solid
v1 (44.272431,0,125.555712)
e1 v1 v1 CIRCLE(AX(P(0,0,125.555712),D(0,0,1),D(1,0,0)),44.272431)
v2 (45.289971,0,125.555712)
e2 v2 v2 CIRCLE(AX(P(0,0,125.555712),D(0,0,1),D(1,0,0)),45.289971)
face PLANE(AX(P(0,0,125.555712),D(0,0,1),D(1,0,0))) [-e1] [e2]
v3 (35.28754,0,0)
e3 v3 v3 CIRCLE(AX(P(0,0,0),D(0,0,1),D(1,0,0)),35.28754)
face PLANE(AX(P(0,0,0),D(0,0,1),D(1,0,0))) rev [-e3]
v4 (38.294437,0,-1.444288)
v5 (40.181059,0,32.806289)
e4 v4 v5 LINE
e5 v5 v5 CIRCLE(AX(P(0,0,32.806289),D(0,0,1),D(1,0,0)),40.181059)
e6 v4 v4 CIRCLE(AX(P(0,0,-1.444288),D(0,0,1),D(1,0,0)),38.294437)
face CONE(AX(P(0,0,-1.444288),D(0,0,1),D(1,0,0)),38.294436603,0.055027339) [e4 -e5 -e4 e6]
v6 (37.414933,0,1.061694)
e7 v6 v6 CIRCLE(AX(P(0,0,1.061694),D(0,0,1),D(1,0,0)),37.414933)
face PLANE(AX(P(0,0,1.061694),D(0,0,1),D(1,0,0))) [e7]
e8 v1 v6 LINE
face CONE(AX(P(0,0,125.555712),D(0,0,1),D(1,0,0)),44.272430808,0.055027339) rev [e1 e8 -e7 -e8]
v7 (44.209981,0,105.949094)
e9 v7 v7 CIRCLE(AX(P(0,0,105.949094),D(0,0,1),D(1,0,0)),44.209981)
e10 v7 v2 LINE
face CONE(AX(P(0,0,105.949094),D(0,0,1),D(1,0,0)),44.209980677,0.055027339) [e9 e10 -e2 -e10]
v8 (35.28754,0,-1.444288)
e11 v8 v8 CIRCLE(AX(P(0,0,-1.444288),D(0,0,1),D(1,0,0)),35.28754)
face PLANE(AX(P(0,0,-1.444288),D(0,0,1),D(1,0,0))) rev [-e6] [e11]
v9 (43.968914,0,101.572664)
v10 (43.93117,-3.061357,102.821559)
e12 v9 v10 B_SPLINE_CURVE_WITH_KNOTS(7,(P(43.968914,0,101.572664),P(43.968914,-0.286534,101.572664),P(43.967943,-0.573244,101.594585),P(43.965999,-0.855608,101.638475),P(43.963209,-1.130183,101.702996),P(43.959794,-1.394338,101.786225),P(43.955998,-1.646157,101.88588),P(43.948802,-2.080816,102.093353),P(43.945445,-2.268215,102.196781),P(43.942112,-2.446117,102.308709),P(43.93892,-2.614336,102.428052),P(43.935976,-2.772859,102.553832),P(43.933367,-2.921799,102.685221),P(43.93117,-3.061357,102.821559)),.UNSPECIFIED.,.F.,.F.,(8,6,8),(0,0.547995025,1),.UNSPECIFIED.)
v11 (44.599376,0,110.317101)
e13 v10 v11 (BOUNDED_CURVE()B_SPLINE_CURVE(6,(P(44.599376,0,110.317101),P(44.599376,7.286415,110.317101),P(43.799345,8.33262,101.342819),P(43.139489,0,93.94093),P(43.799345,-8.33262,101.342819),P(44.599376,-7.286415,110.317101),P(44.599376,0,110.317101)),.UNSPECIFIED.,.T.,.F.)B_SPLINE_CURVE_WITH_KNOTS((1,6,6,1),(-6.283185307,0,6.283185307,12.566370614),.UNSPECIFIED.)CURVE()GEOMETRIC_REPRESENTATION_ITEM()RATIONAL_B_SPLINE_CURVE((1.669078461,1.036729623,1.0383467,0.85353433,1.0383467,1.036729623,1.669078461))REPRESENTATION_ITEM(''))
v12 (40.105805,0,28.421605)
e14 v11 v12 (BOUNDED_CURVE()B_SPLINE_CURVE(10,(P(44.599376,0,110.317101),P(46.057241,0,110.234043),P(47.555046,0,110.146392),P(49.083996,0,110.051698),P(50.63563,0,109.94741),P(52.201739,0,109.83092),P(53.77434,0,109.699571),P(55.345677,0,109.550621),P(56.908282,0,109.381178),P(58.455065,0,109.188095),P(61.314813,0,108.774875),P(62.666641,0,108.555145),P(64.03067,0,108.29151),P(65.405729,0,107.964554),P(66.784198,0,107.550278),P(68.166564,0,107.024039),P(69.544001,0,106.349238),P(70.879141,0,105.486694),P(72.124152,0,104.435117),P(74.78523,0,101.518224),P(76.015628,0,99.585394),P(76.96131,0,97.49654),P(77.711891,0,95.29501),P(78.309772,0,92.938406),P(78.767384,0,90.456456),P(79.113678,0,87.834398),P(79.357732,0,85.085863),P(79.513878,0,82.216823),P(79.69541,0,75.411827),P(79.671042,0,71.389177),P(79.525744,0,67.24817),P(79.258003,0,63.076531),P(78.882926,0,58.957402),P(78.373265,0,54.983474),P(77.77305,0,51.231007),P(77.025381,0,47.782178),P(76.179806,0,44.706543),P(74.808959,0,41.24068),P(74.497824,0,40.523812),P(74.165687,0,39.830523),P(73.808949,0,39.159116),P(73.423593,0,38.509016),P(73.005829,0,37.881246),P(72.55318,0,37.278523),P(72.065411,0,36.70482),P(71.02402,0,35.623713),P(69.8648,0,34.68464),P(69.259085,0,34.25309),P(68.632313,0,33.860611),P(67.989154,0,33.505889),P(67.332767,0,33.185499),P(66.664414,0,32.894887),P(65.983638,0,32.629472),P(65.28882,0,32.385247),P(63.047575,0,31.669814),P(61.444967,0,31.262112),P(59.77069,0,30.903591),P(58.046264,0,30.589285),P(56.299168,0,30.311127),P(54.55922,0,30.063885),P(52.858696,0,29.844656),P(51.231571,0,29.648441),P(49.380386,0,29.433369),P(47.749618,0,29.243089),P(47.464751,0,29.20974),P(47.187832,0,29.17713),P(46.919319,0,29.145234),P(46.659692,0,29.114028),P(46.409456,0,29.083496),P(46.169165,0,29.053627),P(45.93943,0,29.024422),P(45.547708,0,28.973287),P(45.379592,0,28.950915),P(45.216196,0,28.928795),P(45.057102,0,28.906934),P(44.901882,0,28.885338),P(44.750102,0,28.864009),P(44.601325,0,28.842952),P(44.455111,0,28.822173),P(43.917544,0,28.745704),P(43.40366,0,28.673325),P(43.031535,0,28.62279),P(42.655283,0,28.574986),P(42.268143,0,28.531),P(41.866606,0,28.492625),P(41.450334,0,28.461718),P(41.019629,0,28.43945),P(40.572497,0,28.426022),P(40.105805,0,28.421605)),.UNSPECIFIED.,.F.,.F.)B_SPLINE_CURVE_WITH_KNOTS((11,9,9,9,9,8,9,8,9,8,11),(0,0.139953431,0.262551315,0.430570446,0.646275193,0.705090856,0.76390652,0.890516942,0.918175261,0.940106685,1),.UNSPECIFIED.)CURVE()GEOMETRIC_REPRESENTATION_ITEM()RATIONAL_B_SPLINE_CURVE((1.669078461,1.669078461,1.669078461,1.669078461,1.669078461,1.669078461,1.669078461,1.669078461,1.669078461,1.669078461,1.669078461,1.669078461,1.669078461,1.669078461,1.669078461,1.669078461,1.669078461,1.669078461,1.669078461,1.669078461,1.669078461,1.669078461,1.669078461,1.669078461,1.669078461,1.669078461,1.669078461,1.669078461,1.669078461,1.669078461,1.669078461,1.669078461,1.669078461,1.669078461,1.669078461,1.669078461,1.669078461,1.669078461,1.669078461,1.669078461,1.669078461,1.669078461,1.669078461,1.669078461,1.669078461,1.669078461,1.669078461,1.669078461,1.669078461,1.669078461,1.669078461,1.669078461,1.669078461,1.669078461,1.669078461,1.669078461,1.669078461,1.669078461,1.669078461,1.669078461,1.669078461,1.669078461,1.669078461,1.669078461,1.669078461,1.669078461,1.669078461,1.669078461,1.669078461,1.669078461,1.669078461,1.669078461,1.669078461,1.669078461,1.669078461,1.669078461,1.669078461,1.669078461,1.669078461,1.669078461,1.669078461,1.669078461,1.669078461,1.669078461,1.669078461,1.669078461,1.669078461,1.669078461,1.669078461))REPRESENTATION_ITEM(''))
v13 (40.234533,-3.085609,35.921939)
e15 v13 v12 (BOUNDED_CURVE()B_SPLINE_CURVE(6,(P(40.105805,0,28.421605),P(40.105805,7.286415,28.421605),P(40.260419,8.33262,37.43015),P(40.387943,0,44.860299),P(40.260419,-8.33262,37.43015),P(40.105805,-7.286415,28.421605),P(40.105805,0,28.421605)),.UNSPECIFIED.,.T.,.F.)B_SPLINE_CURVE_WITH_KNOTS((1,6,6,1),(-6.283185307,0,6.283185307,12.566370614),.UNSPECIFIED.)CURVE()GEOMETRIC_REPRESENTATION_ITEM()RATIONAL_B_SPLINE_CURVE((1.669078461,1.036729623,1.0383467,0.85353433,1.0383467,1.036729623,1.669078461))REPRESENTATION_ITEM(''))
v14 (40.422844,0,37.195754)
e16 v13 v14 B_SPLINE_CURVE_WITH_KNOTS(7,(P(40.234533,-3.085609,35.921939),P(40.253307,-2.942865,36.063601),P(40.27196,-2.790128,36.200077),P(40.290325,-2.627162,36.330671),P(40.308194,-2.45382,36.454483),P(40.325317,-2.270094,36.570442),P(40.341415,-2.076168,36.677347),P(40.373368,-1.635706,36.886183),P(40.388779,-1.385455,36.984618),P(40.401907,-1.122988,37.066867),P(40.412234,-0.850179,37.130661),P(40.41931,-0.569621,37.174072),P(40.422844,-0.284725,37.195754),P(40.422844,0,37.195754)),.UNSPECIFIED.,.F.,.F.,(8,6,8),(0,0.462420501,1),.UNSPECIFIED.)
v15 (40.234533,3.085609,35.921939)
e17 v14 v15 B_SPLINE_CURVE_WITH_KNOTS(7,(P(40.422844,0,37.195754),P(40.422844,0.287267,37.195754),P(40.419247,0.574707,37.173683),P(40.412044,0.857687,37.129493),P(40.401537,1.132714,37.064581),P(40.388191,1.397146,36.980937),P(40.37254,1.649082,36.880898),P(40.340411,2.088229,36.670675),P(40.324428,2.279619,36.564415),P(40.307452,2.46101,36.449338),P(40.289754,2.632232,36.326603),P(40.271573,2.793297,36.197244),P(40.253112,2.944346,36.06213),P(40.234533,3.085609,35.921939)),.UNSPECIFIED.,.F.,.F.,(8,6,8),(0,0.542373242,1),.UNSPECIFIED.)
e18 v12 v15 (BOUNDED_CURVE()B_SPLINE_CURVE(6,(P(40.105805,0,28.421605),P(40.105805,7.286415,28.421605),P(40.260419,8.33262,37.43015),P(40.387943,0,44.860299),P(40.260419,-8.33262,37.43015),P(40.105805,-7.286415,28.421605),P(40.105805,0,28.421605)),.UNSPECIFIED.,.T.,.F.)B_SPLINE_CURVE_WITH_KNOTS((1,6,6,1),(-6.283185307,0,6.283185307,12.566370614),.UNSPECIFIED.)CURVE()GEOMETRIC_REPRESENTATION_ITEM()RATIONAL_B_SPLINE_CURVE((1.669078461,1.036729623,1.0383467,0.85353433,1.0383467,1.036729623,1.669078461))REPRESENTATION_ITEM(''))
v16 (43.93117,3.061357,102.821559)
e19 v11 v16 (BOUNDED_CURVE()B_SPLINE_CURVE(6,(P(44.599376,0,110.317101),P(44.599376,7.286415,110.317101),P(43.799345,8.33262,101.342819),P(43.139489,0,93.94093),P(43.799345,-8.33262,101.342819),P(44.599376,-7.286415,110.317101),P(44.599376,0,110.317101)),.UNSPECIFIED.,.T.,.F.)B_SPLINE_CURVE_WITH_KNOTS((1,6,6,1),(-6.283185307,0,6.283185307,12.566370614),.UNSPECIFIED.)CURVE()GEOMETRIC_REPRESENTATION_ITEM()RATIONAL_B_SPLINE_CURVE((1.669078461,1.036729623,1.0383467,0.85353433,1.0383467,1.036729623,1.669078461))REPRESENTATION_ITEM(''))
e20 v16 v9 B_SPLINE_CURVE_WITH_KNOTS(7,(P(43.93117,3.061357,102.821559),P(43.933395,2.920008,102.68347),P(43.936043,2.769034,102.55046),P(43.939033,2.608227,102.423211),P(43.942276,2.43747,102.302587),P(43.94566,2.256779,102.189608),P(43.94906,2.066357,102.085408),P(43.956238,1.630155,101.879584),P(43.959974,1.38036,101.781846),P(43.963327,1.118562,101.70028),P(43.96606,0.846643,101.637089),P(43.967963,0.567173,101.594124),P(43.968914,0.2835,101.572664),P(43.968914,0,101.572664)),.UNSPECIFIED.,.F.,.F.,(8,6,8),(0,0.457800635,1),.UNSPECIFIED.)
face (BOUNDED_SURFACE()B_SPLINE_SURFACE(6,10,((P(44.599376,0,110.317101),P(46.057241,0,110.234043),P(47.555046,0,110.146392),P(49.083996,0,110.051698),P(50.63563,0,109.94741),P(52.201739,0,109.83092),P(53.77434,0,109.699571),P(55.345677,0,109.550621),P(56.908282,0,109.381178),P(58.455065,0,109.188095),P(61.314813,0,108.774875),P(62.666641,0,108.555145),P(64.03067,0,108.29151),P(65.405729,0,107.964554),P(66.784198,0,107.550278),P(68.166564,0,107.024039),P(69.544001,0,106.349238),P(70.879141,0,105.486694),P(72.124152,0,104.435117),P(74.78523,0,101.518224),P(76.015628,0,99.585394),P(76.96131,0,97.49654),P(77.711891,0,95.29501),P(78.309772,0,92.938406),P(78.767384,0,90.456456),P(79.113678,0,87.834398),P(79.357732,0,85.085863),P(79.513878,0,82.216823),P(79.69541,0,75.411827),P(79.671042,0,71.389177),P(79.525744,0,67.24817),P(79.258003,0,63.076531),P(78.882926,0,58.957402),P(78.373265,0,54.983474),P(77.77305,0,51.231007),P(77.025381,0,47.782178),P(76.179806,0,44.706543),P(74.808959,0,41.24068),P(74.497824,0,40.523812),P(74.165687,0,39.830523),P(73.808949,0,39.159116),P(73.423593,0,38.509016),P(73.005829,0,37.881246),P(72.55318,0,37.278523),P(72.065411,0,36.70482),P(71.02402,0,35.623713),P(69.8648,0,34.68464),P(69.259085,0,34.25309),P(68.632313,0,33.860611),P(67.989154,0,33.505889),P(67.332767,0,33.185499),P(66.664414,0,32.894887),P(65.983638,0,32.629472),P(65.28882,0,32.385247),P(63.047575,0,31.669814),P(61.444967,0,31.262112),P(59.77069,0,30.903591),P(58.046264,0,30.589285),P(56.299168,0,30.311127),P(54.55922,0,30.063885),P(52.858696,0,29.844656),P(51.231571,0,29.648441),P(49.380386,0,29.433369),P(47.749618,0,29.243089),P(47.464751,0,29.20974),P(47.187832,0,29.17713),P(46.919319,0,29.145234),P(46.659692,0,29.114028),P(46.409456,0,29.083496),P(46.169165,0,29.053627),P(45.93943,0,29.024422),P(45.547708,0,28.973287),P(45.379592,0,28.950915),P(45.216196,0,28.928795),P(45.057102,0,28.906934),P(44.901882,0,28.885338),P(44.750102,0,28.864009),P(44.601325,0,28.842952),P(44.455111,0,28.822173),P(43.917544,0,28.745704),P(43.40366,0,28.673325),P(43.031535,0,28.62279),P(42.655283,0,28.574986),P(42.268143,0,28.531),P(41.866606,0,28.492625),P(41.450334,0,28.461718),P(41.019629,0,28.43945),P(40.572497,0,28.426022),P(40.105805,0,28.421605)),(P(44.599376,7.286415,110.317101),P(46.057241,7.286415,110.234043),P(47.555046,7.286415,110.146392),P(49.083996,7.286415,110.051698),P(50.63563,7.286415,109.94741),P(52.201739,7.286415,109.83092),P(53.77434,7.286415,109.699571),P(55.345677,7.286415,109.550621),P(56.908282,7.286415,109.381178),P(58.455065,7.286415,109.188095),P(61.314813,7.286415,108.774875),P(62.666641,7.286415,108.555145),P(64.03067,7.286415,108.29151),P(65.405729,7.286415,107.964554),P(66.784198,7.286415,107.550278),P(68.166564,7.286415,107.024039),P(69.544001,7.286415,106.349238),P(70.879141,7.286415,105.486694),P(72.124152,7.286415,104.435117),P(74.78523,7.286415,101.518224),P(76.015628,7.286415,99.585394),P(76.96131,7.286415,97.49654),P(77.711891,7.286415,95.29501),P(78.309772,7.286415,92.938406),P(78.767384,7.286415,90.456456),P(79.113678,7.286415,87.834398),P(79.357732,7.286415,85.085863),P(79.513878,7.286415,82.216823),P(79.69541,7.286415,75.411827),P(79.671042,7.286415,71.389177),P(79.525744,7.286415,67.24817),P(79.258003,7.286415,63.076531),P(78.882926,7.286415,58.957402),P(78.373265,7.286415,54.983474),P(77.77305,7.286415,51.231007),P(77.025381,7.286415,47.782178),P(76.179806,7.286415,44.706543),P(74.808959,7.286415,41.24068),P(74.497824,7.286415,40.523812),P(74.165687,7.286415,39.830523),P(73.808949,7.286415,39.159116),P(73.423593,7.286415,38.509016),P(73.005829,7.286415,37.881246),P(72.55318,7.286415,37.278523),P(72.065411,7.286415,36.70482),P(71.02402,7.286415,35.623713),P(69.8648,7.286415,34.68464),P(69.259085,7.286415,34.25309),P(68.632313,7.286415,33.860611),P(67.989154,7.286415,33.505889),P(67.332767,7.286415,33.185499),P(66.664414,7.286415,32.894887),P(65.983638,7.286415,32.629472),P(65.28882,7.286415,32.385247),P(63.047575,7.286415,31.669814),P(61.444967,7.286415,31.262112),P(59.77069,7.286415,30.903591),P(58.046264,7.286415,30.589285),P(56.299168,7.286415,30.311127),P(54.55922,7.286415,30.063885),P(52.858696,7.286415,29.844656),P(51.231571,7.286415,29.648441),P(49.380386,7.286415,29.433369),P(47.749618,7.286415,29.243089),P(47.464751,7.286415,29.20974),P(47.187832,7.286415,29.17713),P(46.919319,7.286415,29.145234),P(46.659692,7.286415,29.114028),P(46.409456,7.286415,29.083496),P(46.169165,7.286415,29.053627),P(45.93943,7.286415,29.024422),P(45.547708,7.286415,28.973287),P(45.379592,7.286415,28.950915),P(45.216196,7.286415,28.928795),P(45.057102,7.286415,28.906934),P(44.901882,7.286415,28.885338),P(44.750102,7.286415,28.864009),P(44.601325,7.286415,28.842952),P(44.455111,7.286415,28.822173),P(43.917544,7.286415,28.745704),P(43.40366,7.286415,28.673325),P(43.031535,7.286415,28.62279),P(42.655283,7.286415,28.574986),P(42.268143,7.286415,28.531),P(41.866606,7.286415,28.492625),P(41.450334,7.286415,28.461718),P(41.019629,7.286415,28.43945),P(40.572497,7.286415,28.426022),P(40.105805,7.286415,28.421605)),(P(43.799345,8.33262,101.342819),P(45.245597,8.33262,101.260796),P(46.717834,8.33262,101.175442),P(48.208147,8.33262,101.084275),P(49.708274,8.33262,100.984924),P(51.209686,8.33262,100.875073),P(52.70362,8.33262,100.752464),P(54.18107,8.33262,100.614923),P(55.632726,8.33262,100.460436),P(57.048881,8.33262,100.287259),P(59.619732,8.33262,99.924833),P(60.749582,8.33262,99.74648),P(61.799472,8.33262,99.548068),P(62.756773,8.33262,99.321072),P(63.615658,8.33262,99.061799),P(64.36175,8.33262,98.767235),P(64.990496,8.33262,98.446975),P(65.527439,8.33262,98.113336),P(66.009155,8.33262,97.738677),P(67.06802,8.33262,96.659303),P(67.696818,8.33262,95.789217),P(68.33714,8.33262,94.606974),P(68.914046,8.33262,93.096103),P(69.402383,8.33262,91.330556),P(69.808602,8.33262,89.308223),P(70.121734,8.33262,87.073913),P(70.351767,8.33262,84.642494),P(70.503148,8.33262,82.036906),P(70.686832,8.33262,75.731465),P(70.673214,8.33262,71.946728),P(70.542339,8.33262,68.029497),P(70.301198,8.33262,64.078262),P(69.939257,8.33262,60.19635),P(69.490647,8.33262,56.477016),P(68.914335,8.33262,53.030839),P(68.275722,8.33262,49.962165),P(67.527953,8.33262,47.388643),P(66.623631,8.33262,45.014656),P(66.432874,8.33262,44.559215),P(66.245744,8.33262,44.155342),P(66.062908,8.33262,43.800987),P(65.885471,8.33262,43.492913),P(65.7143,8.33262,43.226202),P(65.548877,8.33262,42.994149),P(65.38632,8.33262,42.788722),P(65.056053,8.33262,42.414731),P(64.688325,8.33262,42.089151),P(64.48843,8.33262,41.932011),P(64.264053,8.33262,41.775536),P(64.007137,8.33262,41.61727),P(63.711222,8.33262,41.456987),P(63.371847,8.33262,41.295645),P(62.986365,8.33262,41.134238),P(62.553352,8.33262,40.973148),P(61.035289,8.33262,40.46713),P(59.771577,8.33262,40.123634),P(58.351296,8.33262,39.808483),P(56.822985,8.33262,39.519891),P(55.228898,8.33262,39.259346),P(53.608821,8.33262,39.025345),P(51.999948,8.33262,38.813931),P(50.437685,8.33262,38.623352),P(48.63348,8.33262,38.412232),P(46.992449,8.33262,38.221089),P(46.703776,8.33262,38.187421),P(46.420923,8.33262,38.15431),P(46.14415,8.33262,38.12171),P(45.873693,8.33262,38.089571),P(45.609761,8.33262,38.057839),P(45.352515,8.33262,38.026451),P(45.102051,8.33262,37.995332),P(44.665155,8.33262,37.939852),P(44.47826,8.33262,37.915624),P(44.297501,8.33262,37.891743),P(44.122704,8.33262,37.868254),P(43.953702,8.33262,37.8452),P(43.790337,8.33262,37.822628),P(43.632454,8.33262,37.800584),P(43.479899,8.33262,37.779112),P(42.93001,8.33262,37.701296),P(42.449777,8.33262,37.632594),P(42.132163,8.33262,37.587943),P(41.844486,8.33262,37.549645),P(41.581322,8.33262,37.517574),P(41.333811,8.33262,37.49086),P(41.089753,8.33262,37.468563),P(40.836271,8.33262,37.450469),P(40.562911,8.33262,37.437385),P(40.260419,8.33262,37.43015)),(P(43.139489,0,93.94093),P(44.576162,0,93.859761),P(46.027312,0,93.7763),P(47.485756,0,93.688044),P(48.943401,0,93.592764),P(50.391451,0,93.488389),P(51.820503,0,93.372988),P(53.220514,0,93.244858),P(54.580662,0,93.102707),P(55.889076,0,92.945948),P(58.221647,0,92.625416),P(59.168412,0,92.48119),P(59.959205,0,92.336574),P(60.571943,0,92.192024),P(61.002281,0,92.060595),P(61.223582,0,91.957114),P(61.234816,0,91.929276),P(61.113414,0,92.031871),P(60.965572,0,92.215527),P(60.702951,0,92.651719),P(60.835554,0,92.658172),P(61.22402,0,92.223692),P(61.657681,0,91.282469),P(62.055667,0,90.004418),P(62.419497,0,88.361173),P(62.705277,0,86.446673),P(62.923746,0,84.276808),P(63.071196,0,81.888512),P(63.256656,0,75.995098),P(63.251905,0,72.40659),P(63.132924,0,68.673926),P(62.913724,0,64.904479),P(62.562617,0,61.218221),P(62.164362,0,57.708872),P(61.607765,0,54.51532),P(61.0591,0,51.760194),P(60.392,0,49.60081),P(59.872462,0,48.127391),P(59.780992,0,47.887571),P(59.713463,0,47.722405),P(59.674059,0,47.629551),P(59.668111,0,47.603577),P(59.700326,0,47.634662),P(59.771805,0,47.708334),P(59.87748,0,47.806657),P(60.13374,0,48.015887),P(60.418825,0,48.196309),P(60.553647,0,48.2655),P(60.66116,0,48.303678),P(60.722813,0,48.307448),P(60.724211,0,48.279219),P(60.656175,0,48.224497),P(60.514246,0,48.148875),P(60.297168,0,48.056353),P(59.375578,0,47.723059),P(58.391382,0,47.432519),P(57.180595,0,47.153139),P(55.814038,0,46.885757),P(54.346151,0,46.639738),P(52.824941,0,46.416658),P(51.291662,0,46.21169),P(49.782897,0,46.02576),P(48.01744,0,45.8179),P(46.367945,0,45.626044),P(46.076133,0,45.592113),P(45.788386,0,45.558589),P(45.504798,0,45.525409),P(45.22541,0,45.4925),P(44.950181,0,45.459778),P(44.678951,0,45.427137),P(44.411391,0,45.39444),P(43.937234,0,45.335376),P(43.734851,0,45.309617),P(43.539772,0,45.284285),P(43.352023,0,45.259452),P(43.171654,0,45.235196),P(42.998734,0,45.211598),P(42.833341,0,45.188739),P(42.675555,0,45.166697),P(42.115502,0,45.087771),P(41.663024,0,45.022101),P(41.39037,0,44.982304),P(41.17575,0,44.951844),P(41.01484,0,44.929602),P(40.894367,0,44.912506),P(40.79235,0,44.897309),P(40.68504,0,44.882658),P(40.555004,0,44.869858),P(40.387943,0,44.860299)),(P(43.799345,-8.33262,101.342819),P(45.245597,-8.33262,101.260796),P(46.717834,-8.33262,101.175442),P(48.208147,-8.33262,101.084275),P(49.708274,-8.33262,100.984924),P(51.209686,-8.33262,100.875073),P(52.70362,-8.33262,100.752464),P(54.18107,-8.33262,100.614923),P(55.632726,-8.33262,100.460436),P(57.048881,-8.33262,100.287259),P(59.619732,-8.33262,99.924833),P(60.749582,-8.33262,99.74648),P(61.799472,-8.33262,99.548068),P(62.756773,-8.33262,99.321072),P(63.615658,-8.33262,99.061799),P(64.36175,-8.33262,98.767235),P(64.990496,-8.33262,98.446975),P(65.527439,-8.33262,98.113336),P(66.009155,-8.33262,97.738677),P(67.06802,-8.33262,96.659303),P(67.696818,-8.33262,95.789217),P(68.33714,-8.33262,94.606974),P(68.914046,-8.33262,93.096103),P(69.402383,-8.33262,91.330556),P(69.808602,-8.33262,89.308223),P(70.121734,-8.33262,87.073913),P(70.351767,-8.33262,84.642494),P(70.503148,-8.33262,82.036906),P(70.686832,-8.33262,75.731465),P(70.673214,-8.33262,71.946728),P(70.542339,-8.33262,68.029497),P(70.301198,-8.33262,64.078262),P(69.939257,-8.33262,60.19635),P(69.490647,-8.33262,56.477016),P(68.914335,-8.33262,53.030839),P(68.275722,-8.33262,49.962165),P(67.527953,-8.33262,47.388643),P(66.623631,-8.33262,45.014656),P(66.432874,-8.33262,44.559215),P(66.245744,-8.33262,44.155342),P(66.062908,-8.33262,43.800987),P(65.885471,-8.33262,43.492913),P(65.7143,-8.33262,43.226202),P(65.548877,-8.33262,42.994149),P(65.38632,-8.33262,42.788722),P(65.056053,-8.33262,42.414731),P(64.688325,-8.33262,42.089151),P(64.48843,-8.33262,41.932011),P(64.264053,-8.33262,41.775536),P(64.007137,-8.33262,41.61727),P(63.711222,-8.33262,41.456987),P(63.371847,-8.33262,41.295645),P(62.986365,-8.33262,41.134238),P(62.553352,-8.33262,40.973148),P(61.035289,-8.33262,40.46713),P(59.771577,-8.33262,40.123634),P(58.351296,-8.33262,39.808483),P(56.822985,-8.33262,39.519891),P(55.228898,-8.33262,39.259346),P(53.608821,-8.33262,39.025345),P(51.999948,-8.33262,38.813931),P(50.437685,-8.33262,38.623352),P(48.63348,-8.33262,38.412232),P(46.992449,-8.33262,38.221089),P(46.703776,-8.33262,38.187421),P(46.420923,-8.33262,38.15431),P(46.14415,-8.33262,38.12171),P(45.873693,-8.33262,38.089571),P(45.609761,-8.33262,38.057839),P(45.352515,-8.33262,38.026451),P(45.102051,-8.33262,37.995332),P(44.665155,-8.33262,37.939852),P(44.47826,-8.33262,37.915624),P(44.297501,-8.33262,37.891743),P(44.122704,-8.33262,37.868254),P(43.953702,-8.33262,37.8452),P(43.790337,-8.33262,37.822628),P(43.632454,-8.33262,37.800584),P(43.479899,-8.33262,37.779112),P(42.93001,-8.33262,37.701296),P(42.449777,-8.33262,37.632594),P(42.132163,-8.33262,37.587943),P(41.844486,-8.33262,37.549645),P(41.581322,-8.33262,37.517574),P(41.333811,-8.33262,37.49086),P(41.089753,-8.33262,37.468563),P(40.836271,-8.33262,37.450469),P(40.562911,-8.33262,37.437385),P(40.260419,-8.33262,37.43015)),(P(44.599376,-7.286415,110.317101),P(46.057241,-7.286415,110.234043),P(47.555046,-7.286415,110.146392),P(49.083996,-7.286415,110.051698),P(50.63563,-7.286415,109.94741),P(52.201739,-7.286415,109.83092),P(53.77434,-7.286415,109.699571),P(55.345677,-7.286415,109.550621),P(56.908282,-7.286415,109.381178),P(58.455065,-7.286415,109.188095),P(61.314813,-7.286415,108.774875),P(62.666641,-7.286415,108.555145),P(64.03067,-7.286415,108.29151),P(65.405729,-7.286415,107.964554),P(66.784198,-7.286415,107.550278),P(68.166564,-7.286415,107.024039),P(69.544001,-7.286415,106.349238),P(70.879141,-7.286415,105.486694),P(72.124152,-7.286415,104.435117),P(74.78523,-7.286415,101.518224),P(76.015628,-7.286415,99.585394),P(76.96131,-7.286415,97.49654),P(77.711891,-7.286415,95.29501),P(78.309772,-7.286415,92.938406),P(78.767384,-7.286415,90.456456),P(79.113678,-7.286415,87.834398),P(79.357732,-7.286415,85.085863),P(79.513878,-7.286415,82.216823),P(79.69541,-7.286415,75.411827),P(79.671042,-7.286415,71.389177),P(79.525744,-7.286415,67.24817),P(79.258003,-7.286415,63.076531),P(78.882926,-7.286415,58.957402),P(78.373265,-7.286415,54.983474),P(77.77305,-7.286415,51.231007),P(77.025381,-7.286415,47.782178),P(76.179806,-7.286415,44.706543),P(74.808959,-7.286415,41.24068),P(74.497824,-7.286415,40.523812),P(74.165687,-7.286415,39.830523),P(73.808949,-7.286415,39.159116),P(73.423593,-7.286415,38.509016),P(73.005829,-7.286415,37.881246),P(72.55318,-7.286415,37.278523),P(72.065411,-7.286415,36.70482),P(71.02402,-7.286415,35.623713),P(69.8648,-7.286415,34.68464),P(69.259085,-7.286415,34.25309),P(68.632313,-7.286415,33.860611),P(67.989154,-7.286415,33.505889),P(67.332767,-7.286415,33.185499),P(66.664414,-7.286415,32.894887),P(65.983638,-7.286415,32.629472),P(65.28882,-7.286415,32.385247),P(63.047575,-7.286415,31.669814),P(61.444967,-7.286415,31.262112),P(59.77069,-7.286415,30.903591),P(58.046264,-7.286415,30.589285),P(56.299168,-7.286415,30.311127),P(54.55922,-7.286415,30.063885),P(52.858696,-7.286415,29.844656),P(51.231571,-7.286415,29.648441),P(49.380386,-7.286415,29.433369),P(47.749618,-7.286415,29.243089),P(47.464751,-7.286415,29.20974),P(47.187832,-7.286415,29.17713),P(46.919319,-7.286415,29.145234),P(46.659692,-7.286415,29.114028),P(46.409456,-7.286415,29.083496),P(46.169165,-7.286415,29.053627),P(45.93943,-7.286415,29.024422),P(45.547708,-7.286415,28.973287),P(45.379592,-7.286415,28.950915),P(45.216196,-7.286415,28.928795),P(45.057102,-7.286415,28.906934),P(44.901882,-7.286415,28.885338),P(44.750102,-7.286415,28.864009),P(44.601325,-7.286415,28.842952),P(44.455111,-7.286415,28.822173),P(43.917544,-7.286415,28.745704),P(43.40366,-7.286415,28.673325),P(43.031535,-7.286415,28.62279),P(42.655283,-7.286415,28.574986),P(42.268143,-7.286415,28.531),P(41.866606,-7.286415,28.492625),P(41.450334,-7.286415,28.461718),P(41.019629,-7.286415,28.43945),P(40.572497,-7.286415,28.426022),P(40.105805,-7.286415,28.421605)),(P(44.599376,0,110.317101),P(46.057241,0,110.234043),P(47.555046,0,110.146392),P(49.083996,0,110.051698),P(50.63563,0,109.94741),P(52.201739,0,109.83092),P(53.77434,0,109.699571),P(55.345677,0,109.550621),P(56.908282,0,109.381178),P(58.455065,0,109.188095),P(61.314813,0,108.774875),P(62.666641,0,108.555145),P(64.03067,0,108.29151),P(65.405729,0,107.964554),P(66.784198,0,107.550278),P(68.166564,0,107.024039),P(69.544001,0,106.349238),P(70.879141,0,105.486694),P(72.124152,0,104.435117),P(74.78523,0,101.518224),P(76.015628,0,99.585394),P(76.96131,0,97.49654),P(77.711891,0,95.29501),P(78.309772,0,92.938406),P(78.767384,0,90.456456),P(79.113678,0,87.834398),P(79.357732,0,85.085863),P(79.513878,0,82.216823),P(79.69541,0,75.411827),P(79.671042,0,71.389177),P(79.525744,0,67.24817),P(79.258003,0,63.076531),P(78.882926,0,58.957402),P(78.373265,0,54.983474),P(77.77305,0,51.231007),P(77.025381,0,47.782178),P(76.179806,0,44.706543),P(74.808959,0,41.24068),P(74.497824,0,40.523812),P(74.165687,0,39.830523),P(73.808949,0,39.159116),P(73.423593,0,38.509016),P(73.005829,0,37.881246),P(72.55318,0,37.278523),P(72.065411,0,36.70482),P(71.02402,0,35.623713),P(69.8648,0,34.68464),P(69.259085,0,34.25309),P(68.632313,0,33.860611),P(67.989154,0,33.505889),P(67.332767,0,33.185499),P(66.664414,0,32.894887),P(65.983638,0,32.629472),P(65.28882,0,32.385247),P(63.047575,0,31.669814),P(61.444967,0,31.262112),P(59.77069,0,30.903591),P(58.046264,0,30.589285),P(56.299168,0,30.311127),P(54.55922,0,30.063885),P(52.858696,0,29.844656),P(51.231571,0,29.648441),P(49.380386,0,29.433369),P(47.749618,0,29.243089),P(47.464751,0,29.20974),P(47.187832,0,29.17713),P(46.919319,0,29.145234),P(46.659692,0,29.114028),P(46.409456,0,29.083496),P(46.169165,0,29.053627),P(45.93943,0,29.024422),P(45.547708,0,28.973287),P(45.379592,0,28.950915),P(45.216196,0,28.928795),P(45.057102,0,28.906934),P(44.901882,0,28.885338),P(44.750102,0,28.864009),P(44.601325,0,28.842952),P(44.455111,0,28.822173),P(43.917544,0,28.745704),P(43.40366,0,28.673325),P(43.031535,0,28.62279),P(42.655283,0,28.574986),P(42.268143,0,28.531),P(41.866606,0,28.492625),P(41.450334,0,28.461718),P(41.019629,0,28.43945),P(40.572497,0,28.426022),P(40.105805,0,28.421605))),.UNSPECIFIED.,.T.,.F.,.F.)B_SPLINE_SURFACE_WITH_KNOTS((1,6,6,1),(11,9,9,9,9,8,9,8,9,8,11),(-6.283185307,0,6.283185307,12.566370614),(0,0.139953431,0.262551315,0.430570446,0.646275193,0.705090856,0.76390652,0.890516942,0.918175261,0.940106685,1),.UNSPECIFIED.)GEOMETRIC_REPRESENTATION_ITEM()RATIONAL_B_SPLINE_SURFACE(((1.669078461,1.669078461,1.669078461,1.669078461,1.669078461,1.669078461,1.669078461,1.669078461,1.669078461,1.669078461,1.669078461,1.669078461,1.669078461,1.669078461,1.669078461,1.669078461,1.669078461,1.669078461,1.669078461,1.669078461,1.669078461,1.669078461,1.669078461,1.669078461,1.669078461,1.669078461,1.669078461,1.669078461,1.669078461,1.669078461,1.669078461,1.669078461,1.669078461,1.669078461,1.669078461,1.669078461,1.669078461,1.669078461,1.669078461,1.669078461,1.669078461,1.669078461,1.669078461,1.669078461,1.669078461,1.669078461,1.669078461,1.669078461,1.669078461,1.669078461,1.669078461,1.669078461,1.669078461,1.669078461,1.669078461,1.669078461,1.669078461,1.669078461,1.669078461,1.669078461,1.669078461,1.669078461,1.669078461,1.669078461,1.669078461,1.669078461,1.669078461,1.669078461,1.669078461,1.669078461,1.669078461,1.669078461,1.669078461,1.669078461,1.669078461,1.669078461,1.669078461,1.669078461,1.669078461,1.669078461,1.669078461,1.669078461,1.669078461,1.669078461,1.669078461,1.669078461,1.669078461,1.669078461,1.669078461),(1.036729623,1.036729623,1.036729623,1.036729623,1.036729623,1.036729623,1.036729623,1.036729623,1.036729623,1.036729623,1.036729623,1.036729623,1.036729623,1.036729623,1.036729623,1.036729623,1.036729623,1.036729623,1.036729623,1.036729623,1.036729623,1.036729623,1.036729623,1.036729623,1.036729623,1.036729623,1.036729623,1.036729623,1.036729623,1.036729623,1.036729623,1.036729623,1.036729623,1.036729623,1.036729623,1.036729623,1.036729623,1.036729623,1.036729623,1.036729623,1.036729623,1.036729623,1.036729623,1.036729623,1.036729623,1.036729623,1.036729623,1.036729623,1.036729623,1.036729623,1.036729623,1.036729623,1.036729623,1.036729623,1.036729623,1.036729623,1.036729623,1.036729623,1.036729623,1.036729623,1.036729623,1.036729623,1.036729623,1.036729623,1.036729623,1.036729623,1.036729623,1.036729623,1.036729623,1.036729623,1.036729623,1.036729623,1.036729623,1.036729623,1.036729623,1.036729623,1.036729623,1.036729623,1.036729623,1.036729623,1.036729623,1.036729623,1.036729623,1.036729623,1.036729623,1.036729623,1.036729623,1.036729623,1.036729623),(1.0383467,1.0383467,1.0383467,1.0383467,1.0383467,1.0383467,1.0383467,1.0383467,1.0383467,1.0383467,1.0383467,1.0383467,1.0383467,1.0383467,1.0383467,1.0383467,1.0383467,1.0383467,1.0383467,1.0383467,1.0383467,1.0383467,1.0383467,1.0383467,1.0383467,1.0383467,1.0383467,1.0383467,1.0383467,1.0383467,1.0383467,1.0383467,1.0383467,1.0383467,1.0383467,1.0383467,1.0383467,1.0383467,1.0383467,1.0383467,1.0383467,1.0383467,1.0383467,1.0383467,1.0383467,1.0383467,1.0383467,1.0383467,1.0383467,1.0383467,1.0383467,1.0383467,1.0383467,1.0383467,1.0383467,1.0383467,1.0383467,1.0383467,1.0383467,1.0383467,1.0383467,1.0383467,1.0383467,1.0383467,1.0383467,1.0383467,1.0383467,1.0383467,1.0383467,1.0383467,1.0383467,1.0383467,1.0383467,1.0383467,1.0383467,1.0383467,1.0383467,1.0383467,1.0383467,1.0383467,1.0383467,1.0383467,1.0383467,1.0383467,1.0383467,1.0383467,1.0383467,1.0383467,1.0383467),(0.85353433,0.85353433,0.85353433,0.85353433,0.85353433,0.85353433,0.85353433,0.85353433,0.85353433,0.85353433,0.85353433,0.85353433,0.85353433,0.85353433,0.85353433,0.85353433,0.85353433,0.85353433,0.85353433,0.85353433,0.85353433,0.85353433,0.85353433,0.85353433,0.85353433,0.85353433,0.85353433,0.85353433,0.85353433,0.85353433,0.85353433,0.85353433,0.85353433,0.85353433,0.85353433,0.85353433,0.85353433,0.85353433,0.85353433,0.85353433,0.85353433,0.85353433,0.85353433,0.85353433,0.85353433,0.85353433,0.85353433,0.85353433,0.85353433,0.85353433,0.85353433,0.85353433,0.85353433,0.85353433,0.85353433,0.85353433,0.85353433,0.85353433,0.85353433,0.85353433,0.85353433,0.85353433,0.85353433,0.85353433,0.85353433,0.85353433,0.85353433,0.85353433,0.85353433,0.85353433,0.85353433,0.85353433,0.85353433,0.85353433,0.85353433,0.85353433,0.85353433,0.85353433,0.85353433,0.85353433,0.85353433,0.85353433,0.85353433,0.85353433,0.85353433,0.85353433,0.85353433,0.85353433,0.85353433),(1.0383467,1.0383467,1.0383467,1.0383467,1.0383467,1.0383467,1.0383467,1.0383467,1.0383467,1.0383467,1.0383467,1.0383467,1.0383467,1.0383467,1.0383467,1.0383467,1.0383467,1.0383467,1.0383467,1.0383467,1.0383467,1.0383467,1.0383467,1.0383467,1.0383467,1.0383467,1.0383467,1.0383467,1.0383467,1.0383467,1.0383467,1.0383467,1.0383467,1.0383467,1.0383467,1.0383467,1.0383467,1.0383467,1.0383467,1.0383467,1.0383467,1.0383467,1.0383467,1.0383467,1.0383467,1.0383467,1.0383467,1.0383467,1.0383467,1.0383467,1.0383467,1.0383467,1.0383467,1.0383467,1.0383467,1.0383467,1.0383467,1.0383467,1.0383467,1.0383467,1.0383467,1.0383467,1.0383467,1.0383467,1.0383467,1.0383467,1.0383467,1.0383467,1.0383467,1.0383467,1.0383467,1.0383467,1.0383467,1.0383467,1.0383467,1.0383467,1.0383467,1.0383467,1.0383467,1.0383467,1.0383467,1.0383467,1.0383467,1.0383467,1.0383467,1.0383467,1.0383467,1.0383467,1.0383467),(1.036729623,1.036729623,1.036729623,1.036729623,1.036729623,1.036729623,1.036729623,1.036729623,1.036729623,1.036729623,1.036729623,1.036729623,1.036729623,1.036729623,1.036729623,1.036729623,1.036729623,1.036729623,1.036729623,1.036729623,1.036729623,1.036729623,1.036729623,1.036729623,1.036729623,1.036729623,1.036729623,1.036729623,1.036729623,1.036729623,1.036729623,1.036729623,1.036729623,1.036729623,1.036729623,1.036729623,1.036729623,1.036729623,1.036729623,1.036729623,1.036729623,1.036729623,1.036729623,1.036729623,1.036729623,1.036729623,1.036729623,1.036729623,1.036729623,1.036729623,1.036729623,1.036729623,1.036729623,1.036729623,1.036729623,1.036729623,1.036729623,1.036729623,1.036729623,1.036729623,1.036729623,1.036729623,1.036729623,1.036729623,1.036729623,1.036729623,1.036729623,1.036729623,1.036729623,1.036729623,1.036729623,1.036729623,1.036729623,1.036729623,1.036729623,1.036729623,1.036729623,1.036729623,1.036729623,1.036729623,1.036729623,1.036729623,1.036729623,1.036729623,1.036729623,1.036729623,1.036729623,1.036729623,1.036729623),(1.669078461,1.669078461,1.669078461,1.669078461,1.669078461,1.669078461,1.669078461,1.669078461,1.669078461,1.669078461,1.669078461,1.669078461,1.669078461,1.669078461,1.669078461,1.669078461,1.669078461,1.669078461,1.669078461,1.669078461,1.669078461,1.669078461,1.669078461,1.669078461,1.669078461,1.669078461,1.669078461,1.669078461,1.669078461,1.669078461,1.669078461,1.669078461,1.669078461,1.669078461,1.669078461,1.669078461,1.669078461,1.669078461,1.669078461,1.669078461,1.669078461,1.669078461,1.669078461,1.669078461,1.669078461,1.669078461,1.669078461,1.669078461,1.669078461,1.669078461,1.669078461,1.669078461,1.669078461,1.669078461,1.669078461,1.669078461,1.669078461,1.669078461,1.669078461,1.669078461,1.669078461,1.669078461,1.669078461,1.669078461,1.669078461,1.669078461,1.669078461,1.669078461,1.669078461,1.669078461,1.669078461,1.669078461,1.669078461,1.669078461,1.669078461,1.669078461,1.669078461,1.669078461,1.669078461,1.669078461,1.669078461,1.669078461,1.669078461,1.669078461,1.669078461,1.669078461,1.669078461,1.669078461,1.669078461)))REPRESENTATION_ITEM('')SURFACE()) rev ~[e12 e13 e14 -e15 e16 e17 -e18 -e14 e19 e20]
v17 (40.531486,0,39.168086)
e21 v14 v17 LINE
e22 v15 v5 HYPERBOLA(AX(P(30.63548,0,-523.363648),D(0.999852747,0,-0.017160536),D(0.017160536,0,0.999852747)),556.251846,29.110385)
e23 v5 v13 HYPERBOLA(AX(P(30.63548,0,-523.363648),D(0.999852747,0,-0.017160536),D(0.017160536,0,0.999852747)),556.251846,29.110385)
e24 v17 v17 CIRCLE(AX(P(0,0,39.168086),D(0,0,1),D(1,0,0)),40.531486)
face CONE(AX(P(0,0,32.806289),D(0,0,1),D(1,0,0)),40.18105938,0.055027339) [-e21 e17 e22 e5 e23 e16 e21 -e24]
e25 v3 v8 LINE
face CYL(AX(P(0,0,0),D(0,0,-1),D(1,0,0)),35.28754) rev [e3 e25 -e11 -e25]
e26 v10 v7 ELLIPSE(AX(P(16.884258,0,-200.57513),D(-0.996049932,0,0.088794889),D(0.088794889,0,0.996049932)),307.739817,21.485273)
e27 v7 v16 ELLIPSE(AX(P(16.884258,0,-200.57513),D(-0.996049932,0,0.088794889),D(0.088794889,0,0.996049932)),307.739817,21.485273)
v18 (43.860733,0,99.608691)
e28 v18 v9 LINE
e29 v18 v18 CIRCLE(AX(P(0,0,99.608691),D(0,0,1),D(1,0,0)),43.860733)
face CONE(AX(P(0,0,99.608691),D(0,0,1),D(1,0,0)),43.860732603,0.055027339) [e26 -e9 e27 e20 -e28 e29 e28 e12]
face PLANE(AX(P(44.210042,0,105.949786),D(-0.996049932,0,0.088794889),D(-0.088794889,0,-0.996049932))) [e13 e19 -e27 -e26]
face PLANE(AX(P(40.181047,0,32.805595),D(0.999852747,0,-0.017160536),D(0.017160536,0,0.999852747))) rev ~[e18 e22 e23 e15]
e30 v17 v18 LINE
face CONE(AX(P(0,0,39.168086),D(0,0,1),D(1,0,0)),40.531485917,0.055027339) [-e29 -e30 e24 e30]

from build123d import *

# Parameters (mm, degrees)
F3_R = 4.3853298938


with BuildPart() as f1:
    # F0 (on Front) → F1 (revolve)
    with BuildSketch(Plane.XZ):
        Polygon((44.2099806775, 105.9490938586), (45.2899709793, 125.555711587), (44.2724308081, 125.555711587), (37.4149333342, 1.0616940765), (0, 1.0616940765), (0, 0), (35.287540406, 0), (35.287540406, -1.444288413), (38.2944366026, -1.444288413), (40.1810593803, 32.8062891499), (40.531485917, 39.1680862292), (43.8607326026, 99.6086910919), align=None)
    revolve(axis=Axis((0, 0, 69.7766542435), (0, 0, 1)))

    # F4: sweep along a path in F0
    with BuildLine(Plane.XZ) as f4_path:
        add(Plane.XZ * Edge.make_bspline(
            [(44.2099806775, 105.9490938586), (49.0506904174, 105.6739127968), (59.0645866106, 105.0457021821), (72.5638000505, 101.964100219), (76.7064605297, 79.0873827338), (73.2562446897, 42.9019377278), (64.6212325948, 35.2456056894), (45.068033657, 33.5123230208), (41.9423858857, 32.8326484411), (40.1810593803, 32.8062891499)],
            knots=[0, 0, 0, 0, 0.139953431, 0.2625513152, 0.4305704465, 0.6462751927, 0.7639065202, 0.9181752612, 1, 1, 1, 1], degree=3))
    # F3 (on offset) → F4 (sweep)
    with BuildSketch(Plane.XY.offset(79.756)):
        with Locations((75.1930936536, 0)):
            Circle(F3_R)
    sweep(path=f4_path.line)


solid = f1.part
